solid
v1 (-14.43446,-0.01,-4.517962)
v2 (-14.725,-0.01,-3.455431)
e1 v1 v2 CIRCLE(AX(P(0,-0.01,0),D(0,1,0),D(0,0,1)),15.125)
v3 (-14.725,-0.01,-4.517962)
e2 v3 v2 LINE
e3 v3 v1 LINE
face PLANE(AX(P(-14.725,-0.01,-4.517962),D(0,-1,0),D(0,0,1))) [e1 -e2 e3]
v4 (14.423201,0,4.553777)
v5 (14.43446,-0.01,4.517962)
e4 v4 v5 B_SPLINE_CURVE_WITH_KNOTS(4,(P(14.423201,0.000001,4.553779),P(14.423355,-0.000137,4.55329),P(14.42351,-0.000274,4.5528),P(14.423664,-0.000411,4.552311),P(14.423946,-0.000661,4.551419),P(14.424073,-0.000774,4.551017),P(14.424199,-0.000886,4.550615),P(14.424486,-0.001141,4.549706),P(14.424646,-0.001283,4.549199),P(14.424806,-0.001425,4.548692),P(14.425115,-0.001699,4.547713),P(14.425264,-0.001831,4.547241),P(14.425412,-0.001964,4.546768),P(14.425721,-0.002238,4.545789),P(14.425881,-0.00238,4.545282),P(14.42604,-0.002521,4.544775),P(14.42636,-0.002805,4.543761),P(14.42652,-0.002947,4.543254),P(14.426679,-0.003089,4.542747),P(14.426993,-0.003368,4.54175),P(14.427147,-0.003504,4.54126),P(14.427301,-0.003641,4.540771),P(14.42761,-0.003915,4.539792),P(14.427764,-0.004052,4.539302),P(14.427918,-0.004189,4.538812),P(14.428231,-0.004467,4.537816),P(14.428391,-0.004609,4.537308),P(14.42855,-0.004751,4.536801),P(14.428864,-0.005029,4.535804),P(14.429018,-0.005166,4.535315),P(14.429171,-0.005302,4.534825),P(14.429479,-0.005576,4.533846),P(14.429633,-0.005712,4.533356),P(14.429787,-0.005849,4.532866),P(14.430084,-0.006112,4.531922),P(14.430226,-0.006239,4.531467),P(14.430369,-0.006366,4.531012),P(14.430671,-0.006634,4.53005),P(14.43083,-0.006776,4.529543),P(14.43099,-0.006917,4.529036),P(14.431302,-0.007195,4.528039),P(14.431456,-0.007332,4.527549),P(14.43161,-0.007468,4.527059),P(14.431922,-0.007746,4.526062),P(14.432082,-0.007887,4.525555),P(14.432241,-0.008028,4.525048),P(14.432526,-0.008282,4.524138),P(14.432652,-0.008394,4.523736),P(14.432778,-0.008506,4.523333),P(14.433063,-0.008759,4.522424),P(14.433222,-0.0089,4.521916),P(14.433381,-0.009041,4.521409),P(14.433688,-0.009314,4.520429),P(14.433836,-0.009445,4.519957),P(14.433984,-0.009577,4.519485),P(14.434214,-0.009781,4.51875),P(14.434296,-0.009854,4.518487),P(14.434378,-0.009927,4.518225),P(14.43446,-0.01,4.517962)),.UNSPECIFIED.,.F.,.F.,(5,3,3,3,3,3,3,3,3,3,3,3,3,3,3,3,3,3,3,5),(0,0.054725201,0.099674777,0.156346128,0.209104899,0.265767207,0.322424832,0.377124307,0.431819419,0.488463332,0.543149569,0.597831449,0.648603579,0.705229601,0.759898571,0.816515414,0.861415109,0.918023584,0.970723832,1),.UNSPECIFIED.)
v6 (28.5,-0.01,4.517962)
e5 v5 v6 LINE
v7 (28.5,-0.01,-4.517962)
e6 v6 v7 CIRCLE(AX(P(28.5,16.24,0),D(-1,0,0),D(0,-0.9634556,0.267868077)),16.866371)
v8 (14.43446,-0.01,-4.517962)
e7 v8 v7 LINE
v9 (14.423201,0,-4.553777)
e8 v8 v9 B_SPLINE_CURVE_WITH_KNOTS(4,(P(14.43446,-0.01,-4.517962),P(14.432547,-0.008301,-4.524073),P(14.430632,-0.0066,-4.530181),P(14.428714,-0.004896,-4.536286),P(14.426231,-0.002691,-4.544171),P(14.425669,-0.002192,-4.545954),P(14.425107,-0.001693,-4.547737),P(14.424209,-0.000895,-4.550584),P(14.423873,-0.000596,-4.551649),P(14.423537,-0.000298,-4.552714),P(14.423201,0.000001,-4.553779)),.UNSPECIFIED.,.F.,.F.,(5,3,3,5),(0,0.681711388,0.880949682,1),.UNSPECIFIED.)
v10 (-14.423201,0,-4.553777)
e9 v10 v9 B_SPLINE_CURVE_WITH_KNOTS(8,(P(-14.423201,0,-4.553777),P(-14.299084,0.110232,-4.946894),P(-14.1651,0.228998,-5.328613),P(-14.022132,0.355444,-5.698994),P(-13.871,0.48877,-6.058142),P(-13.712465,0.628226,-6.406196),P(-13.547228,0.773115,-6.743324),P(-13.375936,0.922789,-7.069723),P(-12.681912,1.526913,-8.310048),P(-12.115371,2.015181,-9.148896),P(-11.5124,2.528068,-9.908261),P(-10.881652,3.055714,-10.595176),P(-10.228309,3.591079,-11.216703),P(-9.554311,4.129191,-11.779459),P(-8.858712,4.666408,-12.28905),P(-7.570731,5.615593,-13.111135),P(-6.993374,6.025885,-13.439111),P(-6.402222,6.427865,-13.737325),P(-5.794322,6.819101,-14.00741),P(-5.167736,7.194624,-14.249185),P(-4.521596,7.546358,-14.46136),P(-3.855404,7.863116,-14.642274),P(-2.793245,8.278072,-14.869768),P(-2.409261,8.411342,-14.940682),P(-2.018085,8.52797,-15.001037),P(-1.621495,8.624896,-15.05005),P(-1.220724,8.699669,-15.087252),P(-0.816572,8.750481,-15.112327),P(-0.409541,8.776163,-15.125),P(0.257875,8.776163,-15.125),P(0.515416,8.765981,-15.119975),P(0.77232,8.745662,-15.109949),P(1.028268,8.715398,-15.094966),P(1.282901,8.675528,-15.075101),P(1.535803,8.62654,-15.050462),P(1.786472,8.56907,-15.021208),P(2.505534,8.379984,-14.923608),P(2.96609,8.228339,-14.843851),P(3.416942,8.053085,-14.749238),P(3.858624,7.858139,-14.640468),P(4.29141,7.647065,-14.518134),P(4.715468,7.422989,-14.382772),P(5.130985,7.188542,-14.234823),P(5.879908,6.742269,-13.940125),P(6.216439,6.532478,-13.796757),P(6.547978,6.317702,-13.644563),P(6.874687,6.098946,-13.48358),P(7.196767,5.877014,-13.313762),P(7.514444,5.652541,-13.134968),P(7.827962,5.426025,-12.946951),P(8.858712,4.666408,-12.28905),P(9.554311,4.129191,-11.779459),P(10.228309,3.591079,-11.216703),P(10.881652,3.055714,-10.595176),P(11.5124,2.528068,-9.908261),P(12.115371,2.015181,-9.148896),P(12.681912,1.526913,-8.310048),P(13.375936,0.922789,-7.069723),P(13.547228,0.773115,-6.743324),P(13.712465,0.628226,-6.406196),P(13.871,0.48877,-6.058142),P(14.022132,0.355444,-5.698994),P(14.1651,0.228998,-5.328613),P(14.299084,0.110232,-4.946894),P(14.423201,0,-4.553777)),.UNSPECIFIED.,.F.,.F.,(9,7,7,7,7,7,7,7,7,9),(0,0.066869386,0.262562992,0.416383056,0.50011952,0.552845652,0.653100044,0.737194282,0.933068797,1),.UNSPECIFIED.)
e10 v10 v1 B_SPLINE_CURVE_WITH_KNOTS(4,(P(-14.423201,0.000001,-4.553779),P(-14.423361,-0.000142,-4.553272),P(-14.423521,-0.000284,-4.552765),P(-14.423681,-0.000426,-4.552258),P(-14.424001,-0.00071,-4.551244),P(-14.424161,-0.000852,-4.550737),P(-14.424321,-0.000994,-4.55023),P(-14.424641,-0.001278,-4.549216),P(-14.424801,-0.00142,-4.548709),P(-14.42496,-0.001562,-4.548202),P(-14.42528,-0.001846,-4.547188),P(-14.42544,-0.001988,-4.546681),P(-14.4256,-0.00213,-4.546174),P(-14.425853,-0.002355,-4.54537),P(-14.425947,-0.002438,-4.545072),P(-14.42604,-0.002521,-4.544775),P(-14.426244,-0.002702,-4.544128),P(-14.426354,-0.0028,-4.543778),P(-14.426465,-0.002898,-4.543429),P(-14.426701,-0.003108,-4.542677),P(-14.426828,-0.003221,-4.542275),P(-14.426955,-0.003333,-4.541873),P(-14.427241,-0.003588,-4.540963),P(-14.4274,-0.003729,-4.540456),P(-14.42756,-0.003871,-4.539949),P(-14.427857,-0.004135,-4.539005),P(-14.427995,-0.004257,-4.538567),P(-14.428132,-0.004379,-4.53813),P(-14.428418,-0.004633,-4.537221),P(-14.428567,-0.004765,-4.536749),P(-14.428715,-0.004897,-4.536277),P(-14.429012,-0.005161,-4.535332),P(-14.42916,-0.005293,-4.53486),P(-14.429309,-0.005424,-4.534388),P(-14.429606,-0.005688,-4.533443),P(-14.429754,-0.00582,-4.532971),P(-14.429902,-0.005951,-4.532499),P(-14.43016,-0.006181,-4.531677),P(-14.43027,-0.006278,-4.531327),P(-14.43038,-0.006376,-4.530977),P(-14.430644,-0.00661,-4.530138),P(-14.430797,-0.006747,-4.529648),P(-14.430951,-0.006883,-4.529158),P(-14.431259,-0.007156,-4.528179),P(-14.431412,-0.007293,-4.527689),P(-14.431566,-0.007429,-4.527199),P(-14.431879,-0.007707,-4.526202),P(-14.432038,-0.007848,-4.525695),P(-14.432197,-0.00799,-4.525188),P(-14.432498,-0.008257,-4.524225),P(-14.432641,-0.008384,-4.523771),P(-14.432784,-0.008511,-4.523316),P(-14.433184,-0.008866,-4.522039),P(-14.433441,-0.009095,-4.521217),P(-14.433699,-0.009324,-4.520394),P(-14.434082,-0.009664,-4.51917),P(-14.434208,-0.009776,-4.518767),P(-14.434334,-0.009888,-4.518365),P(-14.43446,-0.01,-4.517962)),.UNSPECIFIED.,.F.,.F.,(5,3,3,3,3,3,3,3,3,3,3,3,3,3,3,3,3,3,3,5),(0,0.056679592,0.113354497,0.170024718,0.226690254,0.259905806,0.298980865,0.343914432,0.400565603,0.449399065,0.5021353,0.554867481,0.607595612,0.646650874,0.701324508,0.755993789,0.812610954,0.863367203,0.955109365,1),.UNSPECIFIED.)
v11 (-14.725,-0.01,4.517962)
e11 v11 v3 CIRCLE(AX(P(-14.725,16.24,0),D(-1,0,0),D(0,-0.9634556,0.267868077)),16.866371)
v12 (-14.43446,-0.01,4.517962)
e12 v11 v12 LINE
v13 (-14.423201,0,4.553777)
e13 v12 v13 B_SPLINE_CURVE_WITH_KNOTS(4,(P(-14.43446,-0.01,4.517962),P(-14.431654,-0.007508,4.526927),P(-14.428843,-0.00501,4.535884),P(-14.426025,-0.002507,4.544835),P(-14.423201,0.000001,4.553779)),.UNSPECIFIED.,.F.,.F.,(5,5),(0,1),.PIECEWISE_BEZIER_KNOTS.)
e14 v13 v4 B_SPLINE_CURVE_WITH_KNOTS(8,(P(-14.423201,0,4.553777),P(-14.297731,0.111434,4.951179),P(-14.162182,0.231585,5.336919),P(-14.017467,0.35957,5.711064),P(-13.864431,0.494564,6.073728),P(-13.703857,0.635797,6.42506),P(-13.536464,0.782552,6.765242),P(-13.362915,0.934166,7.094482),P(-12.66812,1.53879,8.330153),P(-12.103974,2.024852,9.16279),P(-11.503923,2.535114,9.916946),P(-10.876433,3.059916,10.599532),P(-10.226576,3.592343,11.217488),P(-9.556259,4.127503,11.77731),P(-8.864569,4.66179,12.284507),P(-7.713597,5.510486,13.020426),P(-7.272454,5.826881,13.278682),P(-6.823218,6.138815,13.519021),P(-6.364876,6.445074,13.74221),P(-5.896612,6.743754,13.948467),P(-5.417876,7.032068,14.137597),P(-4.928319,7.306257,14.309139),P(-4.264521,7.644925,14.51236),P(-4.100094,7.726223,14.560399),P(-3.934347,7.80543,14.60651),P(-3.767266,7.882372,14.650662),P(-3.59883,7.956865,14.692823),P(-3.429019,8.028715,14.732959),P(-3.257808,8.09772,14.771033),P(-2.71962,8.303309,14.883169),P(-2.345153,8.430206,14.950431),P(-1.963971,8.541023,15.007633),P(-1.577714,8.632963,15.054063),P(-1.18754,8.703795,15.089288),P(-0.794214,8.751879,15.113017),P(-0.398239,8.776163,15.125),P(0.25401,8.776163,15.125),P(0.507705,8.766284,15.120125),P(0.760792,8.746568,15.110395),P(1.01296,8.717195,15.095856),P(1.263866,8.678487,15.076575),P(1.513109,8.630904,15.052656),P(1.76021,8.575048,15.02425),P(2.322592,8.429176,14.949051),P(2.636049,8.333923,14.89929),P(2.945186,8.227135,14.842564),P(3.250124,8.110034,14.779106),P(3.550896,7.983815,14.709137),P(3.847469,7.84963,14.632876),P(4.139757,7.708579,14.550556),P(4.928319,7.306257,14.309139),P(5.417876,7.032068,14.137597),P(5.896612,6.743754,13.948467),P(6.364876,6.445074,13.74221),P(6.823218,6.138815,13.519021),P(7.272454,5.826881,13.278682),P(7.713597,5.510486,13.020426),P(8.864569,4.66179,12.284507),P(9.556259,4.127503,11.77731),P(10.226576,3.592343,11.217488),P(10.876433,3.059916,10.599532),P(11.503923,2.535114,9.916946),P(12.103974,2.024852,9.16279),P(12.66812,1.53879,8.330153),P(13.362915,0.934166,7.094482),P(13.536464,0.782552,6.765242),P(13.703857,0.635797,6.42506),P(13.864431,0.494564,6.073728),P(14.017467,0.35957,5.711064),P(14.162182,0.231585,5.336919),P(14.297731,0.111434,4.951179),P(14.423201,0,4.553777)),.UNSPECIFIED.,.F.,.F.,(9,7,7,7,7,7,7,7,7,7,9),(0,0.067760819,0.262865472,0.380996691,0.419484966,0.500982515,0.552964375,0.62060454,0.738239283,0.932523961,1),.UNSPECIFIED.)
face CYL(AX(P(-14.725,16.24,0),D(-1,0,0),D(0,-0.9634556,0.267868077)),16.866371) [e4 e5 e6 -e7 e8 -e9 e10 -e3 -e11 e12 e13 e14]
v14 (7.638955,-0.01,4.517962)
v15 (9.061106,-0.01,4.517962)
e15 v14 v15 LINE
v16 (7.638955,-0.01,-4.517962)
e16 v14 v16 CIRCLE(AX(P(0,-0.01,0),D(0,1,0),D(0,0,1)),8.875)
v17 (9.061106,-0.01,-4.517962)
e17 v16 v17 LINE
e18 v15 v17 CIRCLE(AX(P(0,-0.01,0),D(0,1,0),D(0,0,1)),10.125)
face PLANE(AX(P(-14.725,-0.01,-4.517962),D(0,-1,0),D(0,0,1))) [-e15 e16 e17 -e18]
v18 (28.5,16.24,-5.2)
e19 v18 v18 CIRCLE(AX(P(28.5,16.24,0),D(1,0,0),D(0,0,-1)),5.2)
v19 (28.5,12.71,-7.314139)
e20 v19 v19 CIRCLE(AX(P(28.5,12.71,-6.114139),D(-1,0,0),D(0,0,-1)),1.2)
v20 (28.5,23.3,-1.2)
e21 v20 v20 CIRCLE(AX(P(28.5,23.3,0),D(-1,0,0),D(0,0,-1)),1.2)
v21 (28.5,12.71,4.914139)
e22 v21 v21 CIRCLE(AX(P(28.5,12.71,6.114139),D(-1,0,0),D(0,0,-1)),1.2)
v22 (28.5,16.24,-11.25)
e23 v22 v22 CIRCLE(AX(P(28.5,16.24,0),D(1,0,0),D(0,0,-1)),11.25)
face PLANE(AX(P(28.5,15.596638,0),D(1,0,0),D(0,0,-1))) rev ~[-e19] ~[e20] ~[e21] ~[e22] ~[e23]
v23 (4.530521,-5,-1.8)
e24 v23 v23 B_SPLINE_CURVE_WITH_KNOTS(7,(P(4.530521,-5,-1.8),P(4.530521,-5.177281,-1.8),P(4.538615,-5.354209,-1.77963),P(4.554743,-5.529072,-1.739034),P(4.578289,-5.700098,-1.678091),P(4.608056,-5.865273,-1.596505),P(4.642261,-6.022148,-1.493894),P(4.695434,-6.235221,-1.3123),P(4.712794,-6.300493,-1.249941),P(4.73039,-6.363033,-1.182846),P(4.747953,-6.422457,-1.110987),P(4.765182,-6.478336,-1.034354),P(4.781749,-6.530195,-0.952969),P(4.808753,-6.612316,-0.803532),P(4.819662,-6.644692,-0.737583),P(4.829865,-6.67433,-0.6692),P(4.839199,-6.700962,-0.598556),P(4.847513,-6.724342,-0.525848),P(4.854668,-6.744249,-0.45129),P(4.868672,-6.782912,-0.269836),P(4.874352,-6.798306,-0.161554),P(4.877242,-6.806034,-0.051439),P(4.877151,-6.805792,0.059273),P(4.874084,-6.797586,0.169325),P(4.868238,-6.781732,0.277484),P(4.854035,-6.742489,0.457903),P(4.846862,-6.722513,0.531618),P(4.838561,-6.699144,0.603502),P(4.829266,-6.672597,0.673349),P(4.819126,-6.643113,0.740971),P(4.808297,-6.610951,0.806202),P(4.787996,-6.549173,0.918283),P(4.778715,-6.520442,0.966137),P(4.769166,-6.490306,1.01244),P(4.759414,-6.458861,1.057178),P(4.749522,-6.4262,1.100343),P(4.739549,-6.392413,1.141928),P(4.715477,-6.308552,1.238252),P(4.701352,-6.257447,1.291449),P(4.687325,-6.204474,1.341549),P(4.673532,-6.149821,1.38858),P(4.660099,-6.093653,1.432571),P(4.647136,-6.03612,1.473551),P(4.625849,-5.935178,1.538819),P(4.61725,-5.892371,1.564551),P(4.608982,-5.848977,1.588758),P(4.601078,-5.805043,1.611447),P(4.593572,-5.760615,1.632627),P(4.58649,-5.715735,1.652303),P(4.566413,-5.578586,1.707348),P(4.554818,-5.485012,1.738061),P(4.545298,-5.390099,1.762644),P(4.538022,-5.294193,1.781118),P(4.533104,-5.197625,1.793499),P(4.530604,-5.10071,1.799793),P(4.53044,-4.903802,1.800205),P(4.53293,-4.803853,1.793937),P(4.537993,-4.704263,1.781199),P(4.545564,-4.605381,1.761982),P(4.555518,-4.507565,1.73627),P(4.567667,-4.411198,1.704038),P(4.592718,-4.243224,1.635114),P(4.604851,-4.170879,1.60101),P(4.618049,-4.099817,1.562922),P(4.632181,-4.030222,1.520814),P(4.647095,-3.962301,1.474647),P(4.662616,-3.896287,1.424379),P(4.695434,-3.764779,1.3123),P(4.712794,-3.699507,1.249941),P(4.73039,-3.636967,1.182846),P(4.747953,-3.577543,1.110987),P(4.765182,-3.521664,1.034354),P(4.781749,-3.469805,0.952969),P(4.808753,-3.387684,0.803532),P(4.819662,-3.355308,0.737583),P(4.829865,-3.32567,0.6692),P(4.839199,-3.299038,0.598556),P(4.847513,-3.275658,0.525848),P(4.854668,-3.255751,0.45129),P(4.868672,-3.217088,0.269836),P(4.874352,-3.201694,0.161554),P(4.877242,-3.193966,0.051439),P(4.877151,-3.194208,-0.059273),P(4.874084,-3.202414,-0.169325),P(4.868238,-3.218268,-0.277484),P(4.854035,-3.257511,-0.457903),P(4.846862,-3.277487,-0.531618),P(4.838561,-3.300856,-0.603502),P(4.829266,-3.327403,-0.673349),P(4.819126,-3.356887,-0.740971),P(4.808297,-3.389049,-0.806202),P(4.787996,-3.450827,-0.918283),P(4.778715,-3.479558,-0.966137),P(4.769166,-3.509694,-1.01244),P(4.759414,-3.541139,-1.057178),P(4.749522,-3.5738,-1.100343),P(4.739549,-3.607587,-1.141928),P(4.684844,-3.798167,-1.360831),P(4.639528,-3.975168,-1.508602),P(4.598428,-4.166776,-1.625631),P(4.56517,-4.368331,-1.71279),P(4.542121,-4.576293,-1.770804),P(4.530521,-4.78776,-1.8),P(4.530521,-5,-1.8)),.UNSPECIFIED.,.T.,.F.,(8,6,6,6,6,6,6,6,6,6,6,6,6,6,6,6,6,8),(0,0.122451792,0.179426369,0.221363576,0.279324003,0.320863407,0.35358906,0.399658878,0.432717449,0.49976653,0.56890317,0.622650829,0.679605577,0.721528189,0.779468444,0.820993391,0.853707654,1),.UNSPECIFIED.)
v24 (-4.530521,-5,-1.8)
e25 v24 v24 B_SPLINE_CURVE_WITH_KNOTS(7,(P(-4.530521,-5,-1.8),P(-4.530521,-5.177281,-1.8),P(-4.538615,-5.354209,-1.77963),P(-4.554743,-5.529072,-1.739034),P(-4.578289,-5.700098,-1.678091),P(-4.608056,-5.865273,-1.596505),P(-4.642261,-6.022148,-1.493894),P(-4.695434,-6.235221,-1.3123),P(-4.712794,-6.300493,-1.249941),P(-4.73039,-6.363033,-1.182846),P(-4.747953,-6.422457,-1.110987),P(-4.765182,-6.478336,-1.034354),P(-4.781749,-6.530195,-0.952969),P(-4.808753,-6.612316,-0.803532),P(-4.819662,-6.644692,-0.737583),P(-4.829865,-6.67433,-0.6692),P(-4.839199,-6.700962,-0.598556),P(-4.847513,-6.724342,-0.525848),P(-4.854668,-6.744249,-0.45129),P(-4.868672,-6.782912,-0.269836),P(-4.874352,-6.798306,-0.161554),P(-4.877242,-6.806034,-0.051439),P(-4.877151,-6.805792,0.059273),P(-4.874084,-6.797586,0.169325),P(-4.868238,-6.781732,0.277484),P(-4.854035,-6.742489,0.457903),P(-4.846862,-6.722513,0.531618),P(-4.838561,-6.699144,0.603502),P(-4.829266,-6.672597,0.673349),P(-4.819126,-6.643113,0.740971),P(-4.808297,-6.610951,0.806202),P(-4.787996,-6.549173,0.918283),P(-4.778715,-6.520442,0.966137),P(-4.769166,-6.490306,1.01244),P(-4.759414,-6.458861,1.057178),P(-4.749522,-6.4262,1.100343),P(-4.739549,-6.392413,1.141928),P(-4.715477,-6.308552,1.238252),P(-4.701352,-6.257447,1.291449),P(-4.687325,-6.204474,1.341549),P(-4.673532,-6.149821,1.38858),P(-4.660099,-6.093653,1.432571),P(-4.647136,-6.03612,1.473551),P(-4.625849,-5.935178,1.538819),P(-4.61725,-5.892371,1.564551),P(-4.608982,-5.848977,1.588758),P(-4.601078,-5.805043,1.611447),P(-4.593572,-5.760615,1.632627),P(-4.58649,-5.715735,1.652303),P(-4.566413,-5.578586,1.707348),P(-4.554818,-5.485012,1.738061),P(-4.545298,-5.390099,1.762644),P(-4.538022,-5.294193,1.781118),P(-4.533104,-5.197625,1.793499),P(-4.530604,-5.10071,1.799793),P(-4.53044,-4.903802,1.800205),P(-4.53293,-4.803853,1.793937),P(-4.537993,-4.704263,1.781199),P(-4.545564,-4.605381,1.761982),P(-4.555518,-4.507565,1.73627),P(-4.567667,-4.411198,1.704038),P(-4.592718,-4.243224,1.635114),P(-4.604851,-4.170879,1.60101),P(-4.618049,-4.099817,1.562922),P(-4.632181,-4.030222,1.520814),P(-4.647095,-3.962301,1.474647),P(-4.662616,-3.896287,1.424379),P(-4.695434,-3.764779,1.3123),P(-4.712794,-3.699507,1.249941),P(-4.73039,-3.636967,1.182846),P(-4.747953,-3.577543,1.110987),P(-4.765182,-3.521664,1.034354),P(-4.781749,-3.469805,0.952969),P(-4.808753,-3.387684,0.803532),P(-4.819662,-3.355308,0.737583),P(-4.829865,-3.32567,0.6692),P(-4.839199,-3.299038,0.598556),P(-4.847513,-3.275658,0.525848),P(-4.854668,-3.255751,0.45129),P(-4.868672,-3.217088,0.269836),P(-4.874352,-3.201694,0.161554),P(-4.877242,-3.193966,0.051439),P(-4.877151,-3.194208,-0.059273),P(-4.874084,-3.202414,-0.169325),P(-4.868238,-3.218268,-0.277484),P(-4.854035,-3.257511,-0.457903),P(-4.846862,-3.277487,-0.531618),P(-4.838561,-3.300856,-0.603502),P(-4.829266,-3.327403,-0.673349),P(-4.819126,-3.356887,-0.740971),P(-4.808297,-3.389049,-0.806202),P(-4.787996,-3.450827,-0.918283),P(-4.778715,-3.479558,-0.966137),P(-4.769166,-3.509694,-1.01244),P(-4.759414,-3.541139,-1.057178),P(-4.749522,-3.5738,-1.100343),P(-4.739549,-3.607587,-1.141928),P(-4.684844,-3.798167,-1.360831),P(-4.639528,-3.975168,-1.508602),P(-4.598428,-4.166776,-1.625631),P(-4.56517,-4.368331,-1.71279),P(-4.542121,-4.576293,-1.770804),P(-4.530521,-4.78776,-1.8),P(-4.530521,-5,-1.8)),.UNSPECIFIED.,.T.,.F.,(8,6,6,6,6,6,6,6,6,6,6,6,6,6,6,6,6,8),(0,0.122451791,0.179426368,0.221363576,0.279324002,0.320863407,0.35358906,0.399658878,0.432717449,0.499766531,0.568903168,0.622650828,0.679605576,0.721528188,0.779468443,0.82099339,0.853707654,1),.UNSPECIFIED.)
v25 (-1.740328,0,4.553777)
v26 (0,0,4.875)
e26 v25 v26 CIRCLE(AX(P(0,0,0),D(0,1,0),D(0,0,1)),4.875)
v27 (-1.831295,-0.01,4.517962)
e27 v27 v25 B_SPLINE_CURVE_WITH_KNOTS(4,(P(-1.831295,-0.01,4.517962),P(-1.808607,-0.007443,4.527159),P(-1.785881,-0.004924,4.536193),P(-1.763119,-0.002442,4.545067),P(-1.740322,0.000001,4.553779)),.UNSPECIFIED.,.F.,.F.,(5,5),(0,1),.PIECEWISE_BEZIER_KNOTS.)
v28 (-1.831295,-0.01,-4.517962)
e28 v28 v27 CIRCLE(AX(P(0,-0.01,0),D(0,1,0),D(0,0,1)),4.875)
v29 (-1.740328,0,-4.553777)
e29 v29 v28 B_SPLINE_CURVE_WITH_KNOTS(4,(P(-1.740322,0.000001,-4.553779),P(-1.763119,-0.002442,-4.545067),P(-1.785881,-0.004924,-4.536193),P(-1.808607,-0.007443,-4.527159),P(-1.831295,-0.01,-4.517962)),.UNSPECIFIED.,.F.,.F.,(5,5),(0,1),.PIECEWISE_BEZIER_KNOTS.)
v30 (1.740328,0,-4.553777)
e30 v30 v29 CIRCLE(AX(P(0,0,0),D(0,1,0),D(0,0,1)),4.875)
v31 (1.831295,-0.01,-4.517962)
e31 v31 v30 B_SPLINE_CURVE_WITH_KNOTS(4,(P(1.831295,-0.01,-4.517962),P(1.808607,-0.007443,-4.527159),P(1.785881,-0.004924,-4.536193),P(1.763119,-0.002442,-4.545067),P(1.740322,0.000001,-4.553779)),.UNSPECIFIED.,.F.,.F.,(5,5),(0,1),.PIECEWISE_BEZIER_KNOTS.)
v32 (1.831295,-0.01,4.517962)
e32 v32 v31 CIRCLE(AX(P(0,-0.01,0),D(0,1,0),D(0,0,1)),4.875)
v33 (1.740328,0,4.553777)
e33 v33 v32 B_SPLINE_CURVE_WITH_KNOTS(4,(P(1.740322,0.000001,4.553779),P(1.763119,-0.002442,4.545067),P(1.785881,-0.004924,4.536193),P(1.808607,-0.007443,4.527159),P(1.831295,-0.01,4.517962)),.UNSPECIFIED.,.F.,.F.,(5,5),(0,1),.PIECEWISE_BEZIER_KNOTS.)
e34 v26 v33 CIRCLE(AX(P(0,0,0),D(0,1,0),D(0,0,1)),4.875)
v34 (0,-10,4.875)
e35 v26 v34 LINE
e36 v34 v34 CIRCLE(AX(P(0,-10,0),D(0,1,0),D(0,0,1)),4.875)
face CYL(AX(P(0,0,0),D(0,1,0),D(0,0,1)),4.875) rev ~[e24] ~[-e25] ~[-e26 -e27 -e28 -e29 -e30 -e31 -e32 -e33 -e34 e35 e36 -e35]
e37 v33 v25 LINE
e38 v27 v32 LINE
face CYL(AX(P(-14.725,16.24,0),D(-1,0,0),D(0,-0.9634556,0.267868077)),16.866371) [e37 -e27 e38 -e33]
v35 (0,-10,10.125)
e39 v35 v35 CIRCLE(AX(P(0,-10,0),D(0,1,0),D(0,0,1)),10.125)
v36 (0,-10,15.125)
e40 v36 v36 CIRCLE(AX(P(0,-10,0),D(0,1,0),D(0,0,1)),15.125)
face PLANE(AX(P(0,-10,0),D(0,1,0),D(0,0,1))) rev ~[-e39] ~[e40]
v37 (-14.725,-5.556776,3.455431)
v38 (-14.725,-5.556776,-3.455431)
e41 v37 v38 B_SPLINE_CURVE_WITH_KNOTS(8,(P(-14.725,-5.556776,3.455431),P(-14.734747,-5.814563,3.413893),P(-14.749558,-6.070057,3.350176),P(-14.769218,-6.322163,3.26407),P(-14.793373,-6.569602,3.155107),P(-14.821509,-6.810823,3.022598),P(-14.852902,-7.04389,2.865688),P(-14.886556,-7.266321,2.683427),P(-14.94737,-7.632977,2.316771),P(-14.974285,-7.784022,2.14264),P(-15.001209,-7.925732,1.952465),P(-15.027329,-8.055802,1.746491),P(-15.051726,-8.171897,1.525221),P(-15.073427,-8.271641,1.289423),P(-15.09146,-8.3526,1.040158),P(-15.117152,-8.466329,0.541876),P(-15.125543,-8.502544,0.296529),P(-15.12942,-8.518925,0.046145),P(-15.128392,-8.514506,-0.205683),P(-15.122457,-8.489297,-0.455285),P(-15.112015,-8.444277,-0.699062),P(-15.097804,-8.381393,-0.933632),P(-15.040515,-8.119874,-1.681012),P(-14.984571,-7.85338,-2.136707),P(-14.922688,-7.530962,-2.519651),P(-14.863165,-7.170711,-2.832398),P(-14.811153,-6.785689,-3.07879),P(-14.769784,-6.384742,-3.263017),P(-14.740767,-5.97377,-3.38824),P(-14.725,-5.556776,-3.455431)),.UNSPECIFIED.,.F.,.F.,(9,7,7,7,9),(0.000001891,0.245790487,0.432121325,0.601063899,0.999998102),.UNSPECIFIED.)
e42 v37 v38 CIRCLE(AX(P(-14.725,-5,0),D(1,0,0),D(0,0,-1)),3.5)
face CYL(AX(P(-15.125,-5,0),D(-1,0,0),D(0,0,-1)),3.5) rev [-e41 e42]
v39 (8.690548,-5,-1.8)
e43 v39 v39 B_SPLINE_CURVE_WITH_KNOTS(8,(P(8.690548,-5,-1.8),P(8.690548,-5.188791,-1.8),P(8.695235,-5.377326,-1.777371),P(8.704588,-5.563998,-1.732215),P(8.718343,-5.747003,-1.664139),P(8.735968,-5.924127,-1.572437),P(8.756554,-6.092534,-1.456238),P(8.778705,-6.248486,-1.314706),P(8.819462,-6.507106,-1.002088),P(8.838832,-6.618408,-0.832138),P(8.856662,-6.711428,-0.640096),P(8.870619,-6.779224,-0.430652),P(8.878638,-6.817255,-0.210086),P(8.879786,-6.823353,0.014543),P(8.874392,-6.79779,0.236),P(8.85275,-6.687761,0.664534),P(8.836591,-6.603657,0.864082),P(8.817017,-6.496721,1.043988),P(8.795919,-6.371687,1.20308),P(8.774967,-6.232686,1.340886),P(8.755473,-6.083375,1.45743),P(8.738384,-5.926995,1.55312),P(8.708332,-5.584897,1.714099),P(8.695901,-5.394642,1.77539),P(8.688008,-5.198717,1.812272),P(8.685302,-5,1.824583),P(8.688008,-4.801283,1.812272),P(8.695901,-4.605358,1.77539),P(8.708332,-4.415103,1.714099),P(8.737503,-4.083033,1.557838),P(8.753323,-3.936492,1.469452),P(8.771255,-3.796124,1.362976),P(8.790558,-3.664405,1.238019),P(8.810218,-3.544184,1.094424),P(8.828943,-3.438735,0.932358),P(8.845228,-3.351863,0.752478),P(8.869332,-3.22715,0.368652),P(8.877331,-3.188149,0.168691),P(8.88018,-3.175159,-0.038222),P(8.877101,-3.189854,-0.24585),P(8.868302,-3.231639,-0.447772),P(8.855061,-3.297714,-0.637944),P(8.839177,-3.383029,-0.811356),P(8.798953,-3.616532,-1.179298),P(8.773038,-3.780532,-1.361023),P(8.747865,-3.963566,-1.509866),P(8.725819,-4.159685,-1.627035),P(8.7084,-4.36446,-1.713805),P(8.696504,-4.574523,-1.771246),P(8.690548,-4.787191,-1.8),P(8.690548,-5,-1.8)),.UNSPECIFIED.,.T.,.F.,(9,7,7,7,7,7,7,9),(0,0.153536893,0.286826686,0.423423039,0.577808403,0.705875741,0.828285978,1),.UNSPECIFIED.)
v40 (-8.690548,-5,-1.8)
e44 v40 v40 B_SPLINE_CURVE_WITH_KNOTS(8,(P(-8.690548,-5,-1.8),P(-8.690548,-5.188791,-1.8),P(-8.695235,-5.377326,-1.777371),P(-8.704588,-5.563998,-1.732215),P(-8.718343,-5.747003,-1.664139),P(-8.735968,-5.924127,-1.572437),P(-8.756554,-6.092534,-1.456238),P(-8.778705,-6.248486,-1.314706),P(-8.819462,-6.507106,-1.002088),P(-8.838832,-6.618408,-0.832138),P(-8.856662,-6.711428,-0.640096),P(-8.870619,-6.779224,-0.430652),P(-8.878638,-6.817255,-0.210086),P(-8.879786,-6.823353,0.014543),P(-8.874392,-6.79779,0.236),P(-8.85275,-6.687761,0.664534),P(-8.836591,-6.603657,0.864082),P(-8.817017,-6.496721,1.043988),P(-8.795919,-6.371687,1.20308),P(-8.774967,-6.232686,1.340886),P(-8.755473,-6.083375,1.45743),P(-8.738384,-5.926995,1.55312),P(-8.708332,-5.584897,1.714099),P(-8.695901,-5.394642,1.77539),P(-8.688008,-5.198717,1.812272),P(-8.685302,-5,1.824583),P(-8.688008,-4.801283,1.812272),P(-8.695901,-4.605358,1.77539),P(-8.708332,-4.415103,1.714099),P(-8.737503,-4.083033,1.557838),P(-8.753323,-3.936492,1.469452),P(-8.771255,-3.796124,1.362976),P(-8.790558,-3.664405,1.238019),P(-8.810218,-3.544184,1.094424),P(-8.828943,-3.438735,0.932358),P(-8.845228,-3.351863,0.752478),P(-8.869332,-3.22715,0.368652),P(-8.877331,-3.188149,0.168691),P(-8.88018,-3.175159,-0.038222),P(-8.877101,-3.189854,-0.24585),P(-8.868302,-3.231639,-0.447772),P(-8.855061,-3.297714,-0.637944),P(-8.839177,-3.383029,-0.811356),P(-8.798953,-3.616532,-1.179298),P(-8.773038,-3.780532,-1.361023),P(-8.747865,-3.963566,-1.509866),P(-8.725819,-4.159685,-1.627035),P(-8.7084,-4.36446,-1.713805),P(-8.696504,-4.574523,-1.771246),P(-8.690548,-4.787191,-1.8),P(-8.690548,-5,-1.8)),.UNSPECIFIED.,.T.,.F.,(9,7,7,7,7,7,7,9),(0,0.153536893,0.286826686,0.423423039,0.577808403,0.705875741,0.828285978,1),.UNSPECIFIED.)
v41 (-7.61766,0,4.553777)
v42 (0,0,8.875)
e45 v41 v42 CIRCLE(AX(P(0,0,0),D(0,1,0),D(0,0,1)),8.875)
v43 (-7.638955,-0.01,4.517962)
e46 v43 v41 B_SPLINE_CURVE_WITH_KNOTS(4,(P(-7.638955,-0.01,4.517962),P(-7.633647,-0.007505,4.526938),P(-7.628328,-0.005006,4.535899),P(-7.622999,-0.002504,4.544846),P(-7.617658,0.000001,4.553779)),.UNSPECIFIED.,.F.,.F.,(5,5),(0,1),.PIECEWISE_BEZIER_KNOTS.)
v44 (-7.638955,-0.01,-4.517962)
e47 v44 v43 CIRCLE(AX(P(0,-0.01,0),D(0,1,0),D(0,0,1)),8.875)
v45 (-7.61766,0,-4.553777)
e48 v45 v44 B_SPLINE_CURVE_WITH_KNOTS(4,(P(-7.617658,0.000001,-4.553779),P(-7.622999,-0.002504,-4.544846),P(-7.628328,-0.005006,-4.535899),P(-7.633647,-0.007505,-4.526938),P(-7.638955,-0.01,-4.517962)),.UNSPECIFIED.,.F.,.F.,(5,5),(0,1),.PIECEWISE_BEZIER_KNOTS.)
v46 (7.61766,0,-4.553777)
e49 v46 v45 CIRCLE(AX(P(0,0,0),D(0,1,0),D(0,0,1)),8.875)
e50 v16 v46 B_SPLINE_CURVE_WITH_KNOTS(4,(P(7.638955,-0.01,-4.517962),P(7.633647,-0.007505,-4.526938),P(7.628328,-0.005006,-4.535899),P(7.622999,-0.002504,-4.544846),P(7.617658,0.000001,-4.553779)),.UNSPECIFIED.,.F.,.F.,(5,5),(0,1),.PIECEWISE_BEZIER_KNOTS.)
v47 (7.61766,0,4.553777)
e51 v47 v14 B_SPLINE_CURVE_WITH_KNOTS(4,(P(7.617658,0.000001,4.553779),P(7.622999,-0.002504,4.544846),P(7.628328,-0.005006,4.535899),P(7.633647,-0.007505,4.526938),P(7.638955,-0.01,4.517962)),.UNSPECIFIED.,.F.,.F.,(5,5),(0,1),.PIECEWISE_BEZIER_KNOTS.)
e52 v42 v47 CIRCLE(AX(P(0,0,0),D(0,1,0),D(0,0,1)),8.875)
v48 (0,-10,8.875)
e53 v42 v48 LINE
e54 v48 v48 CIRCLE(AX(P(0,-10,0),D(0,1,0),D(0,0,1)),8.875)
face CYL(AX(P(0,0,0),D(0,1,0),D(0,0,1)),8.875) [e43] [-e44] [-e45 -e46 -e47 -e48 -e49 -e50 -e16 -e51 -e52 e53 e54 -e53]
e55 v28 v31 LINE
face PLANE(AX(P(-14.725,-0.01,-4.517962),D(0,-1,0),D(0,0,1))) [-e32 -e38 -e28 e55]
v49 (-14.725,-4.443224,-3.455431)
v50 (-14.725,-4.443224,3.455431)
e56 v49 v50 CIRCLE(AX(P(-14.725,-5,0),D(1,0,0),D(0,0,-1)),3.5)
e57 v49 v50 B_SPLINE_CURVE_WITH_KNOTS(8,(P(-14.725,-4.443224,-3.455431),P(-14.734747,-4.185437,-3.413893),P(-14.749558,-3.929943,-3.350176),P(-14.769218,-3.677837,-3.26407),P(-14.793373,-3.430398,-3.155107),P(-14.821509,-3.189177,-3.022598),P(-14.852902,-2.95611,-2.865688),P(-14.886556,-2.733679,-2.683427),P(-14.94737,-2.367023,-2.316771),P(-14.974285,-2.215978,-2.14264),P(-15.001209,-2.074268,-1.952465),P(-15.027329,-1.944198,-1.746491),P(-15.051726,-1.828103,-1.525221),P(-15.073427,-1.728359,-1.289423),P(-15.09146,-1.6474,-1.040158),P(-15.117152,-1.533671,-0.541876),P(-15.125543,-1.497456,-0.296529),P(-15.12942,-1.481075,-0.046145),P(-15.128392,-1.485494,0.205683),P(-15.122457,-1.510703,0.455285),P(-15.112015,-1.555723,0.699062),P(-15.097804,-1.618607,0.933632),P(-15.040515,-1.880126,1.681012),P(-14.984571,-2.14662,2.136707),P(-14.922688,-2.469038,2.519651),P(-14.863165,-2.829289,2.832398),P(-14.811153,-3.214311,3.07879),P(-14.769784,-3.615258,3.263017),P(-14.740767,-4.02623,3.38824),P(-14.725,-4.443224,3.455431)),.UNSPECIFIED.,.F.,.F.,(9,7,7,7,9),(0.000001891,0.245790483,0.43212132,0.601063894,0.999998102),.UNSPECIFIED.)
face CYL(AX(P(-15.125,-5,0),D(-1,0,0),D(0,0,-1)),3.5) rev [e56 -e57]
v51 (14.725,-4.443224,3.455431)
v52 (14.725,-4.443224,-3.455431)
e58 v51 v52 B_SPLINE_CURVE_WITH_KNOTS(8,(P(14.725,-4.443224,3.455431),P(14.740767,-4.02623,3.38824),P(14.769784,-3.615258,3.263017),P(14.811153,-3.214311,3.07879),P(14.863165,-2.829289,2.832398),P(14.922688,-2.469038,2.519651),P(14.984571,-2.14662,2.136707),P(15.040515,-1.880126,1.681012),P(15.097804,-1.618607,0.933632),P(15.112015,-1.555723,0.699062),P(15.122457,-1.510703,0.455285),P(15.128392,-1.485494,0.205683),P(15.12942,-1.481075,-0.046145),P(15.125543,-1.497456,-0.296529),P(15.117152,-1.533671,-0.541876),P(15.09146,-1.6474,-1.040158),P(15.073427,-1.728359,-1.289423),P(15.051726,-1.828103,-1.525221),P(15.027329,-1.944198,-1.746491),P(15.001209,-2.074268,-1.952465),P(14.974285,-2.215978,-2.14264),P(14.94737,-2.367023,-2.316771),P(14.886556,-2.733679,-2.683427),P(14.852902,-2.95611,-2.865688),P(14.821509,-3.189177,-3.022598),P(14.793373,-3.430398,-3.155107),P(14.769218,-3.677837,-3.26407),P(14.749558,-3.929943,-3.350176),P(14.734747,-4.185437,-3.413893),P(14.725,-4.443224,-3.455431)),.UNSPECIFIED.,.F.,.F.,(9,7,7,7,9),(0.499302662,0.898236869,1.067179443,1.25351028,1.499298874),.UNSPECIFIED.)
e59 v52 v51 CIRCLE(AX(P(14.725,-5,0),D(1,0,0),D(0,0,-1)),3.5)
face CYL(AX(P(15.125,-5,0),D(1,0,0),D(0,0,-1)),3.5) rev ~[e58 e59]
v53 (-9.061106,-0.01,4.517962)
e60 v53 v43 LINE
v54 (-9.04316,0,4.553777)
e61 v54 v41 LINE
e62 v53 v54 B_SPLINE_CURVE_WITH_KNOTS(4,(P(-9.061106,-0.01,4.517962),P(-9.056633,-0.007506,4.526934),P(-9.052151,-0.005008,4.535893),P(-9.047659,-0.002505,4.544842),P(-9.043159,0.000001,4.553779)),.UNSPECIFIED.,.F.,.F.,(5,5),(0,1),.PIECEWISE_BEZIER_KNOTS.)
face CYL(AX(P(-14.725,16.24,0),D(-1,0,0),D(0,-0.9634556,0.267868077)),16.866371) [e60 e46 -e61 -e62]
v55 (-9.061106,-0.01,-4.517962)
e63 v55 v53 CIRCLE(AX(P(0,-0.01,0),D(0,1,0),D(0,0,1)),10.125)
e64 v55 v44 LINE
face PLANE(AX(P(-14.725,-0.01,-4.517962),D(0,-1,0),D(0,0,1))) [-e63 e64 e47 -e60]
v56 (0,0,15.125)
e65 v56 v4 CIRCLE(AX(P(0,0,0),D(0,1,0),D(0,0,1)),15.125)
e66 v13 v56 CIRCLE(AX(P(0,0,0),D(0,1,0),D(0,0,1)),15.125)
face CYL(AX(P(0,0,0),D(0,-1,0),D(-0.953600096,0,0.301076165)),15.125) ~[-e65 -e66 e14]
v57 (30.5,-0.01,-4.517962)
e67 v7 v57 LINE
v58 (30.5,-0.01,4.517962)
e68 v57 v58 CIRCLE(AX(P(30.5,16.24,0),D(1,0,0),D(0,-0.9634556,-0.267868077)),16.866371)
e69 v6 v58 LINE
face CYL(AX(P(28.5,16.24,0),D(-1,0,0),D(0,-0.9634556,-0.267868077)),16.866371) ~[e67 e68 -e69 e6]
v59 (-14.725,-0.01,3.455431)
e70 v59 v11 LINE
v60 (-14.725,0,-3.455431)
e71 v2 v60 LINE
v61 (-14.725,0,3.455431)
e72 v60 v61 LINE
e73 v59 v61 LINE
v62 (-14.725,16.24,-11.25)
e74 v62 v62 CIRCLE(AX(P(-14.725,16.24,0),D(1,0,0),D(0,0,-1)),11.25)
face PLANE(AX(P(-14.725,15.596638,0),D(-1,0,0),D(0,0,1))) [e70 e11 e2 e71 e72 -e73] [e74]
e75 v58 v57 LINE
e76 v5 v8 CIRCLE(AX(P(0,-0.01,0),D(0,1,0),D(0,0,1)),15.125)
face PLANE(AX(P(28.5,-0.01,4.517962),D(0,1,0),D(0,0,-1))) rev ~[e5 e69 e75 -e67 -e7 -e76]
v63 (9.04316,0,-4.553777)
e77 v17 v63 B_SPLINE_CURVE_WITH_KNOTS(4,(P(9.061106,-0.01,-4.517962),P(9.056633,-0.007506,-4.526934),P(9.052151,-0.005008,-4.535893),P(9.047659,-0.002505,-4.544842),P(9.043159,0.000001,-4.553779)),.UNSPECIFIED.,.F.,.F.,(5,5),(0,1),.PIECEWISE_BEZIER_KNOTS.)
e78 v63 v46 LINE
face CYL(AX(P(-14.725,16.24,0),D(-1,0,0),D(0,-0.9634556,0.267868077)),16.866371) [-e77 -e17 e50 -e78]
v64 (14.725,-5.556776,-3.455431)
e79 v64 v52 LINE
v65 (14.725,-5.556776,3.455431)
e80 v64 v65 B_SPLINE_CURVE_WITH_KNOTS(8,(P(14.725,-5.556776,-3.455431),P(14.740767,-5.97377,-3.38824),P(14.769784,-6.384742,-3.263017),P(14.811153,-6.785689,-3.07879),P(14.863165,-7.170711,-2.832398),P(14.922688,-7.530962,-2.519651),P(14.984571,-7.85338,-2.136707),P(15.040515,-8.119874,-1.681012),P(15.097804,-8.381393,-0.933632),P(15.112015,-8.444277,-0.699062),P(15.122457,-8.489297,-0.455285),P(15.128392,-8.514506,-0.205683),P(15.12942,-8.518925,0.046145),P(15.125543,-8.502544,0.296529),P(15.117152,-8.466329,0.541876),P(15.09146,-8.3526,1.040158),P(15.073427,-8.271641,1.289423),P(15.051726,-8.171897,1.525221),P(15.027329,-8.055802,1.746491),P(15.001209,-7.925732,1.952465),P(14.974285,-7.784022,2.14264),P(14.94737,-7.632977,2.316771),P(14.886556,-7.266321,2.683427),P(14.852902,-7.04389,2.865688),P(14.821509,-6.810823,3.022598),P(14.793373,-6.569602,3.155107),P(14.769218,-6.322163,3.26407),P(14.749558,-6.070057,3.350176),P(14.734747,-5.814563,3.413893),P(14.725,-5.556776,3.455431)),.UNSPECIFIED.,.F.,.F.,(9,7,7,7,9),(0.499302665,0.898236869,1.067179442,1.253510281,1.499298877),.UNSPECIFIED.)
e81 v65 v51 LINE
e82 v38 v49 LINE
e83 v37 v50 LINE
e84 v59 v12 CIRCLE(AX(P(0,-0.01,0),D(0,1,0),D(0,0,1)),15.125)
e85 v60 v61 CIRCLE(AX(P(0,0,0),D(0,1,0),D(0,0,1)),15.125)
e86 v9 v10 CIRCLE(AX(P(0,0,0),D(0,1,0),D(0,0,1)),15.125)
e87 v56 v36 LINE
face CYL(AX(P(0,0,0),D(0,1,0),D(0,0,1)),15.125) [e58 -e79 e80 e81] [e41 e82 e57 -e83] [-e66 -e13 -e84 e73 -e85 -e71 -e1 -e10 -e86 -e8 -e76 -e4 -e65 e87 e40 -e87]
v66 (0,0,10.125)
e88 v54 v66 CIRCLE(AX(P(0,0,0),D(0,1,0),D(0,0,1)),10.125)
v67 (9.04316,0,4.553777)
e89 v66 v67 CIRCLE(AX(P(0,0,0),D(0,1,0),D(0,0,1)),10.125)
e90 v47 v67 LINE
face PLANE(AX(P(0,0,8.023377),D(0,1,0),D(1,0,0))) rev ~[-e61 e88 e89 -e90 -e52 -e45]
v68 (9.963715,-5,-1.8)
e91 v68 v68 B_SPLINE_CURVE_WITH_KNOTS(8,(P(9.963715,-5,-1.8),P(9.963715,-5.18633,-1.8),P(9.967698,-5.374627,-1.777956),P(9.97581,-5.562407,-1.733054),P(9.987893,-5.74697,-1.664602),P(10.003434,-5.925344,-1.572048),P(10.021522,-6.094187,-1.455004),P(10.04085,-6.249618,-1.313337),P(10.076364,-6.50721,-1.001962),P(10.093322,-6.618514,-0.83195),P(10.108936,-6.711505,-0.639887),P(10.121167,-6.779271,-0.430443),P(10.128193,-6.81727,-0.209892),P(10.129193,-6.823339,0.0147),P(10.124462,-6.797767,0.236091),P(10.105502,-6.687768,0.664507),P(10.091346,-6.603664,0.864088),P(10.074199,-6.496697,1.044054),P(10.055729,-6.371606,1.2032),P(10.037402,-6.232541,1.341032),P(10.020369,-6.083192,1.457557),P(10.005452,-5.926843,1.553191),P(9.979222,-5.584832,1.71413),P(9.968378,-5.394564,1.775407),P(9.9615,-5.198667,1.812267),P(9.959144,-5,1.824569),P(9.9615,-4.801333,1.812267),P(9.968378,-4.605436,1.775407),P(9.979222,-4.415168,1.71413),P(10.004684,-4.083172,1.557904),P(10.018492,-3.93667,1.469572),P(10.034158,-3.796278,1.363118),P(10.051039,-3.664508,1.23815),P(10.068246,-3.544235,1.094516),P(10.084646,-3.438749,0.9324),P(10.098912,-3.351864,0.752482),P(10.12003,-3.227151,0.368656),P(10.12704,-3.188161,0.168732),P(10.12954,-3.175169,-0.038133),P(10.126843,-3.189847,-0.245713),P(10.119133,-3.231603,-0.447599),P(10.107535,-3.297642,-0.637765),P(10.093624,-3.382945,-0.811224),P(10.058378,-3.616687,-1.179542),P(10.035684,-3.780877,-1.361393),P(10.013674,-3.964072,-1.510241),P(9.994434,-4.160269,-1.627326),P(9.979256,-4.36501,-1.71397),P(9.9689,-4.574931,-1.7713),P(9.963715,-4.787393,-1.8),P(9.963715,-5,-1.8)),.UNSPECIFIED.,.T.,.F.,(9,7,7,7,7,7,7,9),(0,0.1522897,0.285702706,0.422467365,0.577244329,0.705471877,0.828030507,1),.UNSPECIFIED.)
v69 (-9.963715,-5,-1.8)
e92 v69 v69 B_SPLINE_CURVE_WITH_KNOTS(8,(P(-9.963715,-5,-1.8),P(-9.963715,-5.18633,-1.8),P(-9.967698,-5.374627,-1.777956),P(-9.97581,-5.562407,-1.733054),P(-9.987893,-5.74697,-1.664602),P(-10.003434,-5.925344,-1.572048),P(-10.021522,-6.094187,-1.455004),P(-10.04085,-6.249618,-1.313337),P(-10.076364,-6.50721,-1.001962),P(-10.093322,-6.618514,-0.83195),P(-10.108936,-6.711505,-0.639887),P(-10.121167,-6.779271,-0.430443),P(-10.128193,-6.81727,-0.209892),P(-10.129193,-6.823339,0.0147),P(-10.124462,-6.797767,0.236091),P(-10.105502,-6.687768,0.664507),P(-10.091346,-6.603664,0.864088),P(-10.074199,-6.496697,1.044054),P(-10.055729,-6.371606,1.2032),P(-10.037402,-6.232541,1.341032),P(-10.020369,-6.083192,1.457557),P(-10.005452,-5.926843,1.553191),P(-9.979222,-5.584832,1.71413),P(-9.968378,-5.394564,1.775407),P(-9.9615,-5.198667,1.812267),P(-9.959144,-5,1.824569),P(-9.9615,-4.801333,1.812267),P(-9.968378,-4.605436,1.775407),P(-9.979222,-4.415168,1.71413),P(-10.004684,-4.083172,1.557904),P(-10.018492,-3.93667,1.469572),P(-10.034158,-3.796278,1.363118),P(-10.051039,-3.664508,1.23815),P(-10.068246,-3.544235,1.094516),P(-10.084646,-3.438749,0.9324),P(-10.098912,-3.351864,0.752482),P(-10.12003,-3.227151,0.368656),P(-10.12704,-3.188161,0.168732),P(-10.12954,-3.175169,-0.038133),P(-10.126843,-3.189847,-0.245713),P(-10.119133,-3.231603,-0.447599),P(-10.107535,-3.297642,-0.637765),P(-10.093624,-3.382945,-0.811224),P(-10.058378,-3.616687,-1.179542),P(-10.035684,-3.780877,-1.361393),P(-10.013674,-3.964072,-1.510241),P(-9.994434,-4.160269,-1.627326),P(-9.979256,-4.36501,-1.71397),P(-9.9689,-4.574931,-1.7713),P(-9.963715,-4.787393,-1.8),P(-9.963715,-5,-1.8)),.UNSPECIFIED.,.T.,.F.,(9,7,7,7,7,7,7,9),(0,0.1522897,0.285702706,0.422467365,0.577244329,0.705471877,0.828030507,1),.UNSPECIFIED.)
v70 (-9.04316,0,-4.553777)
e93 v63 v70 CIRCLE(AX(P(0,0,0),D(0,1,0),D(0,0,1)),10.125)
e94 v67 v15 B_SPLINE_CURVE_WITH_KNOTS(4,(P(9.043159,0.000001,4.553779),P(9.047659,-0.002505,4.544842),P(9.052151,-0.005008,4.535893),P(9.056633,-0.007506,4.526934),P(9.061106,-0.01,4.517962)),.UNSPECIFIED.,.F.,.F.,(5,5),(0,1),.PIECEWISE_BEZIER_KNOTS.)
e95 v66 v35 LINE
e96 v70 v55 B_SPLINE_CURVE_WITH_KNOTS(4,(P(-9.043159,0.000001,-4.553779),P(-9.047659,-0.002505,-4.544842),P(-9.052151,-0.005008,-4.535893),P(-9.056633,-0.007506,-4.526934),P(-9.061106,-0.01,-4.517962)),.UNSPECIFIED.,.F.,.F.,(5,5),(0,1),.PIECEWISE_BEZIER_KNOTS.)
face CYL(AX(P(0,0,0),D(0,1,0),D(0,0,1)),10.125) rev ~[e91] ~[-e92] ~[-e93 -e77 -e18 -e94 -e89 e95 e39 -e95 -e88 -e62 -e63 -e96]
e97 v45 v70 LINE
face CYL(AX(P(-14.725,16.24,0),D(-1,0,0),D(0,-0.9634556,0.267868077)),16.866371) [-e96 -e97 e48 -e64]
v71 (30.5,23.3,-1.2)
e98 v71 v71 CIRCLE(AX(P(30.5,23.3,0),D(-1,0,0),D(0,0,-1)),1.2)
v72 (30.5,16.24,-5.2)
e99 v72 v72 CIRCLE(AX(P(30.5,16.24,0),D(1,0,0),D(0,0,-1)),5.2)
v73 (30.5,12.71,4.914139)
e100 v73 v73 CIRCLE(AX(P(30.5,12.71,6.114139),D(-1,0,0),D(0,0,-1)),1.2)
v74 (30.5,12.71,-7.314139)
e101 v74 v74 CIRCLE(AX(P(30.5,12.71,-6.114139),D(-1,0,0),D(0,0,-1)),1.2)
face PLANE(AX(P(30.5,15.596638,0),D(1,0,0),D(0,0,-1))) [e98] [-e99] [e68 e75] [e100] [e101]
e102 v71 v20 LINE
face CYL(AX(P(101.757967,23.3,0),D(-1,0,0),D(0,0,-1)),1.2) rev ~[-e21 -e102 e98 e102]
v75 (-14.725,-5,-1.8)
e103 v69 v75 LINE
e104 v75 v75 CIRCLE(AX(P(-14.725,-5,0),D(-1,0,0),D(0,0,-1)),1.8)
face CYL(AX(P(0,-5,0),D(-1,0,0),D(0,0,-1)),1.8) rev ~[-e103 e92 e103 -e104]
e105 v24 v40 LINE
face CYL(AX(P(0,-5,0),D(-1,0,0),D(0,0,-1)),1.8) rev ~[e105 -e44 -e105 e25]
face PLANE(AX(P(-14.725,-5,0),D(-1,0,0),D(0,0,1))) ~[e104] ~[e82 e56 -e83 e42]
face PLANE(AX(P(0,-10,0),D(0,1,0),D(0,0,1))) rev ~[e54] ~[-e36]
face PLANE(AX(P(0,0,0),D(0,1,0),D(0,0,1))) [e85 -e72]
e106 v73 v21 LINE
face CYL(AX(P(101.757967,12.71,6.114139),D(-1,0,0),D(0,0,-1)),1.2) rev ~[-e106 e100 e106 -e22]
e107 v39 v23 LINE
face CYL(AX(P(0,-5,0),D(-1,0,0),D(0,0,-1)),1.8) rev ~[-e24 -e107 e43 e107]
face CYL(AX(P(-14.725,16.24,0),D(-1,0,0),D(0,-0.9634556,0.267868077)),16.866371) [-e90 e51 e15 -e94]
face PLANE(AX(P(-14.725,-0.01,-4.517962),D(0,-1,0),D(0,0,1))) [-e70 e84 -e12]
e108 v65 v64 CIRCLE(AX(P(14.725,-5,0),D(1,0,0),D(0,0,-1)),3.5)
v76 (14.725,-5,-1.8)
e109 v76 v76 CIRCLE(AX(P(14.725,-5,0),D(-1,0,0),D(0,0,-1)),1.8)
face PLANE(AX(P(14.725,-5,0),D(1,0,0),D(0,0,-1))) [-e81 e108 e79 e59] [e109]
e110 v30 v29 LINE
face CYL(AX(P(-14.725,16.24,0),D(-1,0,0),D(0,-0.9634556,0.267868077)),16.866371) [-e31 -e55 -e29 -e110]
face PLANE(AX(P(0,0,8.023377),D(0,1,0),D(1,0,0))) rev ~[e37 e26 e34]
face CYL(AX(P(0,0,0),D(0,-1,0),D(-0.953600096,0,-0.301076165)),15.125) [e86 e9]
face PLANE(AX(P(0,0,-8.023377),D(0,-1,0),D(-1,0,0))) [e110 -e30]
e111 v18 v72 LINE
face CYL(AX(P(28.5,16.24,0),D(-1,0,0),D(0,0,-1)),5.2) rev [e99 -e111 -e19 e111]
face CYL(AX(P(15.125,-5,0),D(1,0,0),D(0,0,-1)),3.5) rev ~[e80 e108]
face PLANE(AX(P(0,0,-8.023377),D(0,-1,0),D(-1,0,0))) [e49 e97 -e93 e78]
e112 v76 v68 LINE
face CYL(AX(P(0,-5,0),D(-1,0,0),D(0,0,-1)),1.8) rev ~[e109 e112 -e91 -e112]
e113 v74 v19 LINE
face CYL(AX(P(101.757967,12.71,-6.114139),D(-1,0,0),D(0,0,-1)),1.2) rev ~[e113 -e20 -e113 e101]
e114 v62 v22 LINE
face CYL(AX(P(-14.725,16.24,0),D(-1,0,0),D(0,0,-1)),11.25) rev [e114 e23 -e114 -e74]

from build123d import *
from build123d.topology import SkipClean

# Parameters (mm, degrees)
SKETCH1_R             = 15.125
SKETCH1_R_2           = 10.125
BOSS_EXTRUDE1_DEPTH   = 10
SKETCH1_R_3           = 8.875
SKETCH1_R_4           = 4.875
BOSS_EXTRUDE1_2_DEPTH = 10
SKETCH28_W            = 1.8
SKETCH28_H            = 30.25
SKETCH30_R            = 3.5
CUT_EXTRUDE4_DEPTH    = 0.4
BOSS_EXTRUDE3_START   = -43.225
SKETCH3_R             = 11.25
BOSS_EXTRUDE3_DEPTH   = 43.225
BOSS_EXTRUDE2_REACH   = 48.827
SKETCH31_R            = 5.2
BOSS_EXTRUDE4_DEPTH   = 2
M2_CLEARANCE_HOLE1_D  = 2.4


with BuildPart() as part:
    # Sketch1 → Boss-Extrude1 (new body)
    with BuildSketch(Plane(origin=(0, 0, 0), x_dir=(1, 0, 0), z_dir=(0, 1, 0))):
        with Locations(Location((0, 0, 0), (0, 0, 270))):
            Circle(SKETCH1_R)
        with Locations(Location((0, 0, 0), (0, 0, 270))):
            Circle(SKETCH1_R_2, mode=Mode.SUBTRACT)
    extrude(amount=-BOSS_EXTRUDE1_DEPTH)


with BuildPart() as body_2:
    # Sketch1 → Boss-Extrude1 2 (new body)
    with BuildSketch(Plane(origin=(0, 0, 0), x_dir=(1, 0, 0), z_dir=(0, 1, 0))):
        with Locations(Location((0, 0, 0), (0, 0, 270))):
            Circle(SKETCH1_R_3)
        with Locations(Location((0, 0, 0), (0, 0, 270))):
            Circle(SKETCH1_R_4, mode=Mode.SUBTRACT)
    extrude(amount=-BOSS_EXTRUDE1_2_DEPTH)


with BuildPart() as m3_clearance_hole1_tool:
    # Sketch28 → M3 Clearance Hole1 (revolve)
    with BuildSketch(Plane(origin=(15.125, -5, 0), x_dir=(0, 0, -1), z_dir=(0, 1, 0))):
        with Locations((0.9, 15.125)):
            Rectangle(SKETCH28_W, SKETCH28_H)
    revolve(axis=Axis((21.475, -5, 0), (-1, 0, 0)))


with BuildPart() as part_1:
    add(part.part)

    # M3 Clearance Hole1: cut by m3_clearance_hole1_tool
    add(m3_clearance_hole1_tool.part, mode=Mode.SUBTRACT)

    # Sketch30 → Cut-Extrude4 (cut)
    with BuildSketch(Plane(origin=(15.125, 0, 0), x_dir=(0, 0, -1), z_dir=(1, 0, 0))):
        with Locations((0, -5)):
            Circle(SKETCH30_R)
    cut_extrude4 = extrude(amount=-CUT_EXTRUDE4_DEPTH, mode=Mode.SUBTRACT)

    # Mirror1: Cut-Extrude4 across plane
    add(cut_extrude4.mirror(Plane(origin=(0, 0, 0), x_dir=(0, 0, 1), z_dir=(1, 0, 0))), mode=Mode.SUBTRACT)



with BuildPart() as body_2_1:
    add(body_2.part)

    # M3 Clearance Hole1: cut by m3_clearance_hole1_tool
    add(m3_clearance_hole1_tool.part, mode=Mode.SUBTRACT)


with BuildPart() as part_2:
    add(part_1.part)

    add(body_2_1.part)  # Boss-Extrude3 merges body 2
    # Sketch3 → Boss-Extrude3 (add)
    with BuildSketch(Plane(origin=(28.5, 0, 0), x_dir=(0, 0, -1), z_dir=(1, 0, 0)).offset(BOSS_EXTRUDE3_START)):
        with BuildLine():
            Line((4.51796247, -0.01), (-4.51796247, -0.01))
            ThreePointArc((-4.51796247, -0.01), (0, 33.10637142), (4.51796247, -0.01))
        make_face()
        with Locations((0, 16.24)):
            Circle(SKETCH3_R, mode=Mode.SUBTRACT)
    extrude(amount=BOSS_EXTRUDE3_DEPTH)

    # Sketch2 → Boss-Extrude2 (add, up to next)
    with BuildSketch(Plane(origin=(0, 0, 0), x_dir=(1, 0, 0), z_dir=(0, 1, 0)), mode=Mode.PRIVATE) as boss_extrude2_sk1:
        with BuildLine():
            Line((14.423201452, -4.553776991), (-14.423201452, -4.553776991))
            ThreePointArc((-14.423201452, -4.553776991), (0, -15.125), (14.423201452, -4.553776991))
        make_face()
    boss_extrude2_tool1 = extrude(boss_extrude2_sk1.sketch, amount=BOSS_EXTRUDE2_REACH, mode=Mode.PRIVATE) - part_2.part
    # Sketch2 → Boss-Extrude2 (add, up to next)
    with BuildSketch(Plane(origin=(0, 0, 0), x_dir=(1, 0, 0), z_dir=(0, 1, 0)), mode=Mode.PRIVATE) as boss_extrude2_sk2:
        with BuildLine():
            Line((14.423201452, 4.553776991), (-14.423201452, 4.553776991))
            ThreePointArc((-14.423201452, 4.553776991), (0, 15.125), (14.423201452, 4.553776991))
        make_face()
    boss_extrude2_tool2 = extrude(boss_extrude2_sk2.sketch, amount=BOSS_EXTRUDE2_REACH, mode=Mode.PRIVATE) - part_2.part
    add(boss_extrude2_tool1.solids().sort_by_distance((0, 0, 8.941745))[0])
    add(boss_extrude2_tool2.solids().sort_by_distance((0, 0, -8.941745))[0])

    # Sketch31 → Boss-Extrude4 (add)
    with SkipClean():  # the faces are left unmerged after this step: merging them gives an invalid solid
        with BuildSketch(Plane(origin=(28.5, 0, 0), x_dir=(0, 0, -1), z_dir=(1, 0, 0))):
            with BuildLine():
                Line((-4.51796247, -0.01), (4.51796247, -0.01))
                ThreePointArc((4.51796247, -0.01), (0, 33.10637142), (-4.51796247, -0.01))
            make_face()
            with Locations((0, 16.24)):
                Circle(SKETCH31_R, mode=Mode.SUBTRACT)
        extrude(amount=BOSS_EXTRUDE4_DEPTH)

    # M2 Clearance Hole1 (through all)
    with Locations(Plane(origin=(30.5, 0, 0), x_dir=(0, 0, 1), z_dir=(1, 0, 0))):
        with Locations((0, -23.3), (6.114139351, -12.71), (-6.114139351, -12.71), (0, -16.24)):
            Hole(M2_CLEARANCE_HOLE1_D / 2)


solid = part_2.part
